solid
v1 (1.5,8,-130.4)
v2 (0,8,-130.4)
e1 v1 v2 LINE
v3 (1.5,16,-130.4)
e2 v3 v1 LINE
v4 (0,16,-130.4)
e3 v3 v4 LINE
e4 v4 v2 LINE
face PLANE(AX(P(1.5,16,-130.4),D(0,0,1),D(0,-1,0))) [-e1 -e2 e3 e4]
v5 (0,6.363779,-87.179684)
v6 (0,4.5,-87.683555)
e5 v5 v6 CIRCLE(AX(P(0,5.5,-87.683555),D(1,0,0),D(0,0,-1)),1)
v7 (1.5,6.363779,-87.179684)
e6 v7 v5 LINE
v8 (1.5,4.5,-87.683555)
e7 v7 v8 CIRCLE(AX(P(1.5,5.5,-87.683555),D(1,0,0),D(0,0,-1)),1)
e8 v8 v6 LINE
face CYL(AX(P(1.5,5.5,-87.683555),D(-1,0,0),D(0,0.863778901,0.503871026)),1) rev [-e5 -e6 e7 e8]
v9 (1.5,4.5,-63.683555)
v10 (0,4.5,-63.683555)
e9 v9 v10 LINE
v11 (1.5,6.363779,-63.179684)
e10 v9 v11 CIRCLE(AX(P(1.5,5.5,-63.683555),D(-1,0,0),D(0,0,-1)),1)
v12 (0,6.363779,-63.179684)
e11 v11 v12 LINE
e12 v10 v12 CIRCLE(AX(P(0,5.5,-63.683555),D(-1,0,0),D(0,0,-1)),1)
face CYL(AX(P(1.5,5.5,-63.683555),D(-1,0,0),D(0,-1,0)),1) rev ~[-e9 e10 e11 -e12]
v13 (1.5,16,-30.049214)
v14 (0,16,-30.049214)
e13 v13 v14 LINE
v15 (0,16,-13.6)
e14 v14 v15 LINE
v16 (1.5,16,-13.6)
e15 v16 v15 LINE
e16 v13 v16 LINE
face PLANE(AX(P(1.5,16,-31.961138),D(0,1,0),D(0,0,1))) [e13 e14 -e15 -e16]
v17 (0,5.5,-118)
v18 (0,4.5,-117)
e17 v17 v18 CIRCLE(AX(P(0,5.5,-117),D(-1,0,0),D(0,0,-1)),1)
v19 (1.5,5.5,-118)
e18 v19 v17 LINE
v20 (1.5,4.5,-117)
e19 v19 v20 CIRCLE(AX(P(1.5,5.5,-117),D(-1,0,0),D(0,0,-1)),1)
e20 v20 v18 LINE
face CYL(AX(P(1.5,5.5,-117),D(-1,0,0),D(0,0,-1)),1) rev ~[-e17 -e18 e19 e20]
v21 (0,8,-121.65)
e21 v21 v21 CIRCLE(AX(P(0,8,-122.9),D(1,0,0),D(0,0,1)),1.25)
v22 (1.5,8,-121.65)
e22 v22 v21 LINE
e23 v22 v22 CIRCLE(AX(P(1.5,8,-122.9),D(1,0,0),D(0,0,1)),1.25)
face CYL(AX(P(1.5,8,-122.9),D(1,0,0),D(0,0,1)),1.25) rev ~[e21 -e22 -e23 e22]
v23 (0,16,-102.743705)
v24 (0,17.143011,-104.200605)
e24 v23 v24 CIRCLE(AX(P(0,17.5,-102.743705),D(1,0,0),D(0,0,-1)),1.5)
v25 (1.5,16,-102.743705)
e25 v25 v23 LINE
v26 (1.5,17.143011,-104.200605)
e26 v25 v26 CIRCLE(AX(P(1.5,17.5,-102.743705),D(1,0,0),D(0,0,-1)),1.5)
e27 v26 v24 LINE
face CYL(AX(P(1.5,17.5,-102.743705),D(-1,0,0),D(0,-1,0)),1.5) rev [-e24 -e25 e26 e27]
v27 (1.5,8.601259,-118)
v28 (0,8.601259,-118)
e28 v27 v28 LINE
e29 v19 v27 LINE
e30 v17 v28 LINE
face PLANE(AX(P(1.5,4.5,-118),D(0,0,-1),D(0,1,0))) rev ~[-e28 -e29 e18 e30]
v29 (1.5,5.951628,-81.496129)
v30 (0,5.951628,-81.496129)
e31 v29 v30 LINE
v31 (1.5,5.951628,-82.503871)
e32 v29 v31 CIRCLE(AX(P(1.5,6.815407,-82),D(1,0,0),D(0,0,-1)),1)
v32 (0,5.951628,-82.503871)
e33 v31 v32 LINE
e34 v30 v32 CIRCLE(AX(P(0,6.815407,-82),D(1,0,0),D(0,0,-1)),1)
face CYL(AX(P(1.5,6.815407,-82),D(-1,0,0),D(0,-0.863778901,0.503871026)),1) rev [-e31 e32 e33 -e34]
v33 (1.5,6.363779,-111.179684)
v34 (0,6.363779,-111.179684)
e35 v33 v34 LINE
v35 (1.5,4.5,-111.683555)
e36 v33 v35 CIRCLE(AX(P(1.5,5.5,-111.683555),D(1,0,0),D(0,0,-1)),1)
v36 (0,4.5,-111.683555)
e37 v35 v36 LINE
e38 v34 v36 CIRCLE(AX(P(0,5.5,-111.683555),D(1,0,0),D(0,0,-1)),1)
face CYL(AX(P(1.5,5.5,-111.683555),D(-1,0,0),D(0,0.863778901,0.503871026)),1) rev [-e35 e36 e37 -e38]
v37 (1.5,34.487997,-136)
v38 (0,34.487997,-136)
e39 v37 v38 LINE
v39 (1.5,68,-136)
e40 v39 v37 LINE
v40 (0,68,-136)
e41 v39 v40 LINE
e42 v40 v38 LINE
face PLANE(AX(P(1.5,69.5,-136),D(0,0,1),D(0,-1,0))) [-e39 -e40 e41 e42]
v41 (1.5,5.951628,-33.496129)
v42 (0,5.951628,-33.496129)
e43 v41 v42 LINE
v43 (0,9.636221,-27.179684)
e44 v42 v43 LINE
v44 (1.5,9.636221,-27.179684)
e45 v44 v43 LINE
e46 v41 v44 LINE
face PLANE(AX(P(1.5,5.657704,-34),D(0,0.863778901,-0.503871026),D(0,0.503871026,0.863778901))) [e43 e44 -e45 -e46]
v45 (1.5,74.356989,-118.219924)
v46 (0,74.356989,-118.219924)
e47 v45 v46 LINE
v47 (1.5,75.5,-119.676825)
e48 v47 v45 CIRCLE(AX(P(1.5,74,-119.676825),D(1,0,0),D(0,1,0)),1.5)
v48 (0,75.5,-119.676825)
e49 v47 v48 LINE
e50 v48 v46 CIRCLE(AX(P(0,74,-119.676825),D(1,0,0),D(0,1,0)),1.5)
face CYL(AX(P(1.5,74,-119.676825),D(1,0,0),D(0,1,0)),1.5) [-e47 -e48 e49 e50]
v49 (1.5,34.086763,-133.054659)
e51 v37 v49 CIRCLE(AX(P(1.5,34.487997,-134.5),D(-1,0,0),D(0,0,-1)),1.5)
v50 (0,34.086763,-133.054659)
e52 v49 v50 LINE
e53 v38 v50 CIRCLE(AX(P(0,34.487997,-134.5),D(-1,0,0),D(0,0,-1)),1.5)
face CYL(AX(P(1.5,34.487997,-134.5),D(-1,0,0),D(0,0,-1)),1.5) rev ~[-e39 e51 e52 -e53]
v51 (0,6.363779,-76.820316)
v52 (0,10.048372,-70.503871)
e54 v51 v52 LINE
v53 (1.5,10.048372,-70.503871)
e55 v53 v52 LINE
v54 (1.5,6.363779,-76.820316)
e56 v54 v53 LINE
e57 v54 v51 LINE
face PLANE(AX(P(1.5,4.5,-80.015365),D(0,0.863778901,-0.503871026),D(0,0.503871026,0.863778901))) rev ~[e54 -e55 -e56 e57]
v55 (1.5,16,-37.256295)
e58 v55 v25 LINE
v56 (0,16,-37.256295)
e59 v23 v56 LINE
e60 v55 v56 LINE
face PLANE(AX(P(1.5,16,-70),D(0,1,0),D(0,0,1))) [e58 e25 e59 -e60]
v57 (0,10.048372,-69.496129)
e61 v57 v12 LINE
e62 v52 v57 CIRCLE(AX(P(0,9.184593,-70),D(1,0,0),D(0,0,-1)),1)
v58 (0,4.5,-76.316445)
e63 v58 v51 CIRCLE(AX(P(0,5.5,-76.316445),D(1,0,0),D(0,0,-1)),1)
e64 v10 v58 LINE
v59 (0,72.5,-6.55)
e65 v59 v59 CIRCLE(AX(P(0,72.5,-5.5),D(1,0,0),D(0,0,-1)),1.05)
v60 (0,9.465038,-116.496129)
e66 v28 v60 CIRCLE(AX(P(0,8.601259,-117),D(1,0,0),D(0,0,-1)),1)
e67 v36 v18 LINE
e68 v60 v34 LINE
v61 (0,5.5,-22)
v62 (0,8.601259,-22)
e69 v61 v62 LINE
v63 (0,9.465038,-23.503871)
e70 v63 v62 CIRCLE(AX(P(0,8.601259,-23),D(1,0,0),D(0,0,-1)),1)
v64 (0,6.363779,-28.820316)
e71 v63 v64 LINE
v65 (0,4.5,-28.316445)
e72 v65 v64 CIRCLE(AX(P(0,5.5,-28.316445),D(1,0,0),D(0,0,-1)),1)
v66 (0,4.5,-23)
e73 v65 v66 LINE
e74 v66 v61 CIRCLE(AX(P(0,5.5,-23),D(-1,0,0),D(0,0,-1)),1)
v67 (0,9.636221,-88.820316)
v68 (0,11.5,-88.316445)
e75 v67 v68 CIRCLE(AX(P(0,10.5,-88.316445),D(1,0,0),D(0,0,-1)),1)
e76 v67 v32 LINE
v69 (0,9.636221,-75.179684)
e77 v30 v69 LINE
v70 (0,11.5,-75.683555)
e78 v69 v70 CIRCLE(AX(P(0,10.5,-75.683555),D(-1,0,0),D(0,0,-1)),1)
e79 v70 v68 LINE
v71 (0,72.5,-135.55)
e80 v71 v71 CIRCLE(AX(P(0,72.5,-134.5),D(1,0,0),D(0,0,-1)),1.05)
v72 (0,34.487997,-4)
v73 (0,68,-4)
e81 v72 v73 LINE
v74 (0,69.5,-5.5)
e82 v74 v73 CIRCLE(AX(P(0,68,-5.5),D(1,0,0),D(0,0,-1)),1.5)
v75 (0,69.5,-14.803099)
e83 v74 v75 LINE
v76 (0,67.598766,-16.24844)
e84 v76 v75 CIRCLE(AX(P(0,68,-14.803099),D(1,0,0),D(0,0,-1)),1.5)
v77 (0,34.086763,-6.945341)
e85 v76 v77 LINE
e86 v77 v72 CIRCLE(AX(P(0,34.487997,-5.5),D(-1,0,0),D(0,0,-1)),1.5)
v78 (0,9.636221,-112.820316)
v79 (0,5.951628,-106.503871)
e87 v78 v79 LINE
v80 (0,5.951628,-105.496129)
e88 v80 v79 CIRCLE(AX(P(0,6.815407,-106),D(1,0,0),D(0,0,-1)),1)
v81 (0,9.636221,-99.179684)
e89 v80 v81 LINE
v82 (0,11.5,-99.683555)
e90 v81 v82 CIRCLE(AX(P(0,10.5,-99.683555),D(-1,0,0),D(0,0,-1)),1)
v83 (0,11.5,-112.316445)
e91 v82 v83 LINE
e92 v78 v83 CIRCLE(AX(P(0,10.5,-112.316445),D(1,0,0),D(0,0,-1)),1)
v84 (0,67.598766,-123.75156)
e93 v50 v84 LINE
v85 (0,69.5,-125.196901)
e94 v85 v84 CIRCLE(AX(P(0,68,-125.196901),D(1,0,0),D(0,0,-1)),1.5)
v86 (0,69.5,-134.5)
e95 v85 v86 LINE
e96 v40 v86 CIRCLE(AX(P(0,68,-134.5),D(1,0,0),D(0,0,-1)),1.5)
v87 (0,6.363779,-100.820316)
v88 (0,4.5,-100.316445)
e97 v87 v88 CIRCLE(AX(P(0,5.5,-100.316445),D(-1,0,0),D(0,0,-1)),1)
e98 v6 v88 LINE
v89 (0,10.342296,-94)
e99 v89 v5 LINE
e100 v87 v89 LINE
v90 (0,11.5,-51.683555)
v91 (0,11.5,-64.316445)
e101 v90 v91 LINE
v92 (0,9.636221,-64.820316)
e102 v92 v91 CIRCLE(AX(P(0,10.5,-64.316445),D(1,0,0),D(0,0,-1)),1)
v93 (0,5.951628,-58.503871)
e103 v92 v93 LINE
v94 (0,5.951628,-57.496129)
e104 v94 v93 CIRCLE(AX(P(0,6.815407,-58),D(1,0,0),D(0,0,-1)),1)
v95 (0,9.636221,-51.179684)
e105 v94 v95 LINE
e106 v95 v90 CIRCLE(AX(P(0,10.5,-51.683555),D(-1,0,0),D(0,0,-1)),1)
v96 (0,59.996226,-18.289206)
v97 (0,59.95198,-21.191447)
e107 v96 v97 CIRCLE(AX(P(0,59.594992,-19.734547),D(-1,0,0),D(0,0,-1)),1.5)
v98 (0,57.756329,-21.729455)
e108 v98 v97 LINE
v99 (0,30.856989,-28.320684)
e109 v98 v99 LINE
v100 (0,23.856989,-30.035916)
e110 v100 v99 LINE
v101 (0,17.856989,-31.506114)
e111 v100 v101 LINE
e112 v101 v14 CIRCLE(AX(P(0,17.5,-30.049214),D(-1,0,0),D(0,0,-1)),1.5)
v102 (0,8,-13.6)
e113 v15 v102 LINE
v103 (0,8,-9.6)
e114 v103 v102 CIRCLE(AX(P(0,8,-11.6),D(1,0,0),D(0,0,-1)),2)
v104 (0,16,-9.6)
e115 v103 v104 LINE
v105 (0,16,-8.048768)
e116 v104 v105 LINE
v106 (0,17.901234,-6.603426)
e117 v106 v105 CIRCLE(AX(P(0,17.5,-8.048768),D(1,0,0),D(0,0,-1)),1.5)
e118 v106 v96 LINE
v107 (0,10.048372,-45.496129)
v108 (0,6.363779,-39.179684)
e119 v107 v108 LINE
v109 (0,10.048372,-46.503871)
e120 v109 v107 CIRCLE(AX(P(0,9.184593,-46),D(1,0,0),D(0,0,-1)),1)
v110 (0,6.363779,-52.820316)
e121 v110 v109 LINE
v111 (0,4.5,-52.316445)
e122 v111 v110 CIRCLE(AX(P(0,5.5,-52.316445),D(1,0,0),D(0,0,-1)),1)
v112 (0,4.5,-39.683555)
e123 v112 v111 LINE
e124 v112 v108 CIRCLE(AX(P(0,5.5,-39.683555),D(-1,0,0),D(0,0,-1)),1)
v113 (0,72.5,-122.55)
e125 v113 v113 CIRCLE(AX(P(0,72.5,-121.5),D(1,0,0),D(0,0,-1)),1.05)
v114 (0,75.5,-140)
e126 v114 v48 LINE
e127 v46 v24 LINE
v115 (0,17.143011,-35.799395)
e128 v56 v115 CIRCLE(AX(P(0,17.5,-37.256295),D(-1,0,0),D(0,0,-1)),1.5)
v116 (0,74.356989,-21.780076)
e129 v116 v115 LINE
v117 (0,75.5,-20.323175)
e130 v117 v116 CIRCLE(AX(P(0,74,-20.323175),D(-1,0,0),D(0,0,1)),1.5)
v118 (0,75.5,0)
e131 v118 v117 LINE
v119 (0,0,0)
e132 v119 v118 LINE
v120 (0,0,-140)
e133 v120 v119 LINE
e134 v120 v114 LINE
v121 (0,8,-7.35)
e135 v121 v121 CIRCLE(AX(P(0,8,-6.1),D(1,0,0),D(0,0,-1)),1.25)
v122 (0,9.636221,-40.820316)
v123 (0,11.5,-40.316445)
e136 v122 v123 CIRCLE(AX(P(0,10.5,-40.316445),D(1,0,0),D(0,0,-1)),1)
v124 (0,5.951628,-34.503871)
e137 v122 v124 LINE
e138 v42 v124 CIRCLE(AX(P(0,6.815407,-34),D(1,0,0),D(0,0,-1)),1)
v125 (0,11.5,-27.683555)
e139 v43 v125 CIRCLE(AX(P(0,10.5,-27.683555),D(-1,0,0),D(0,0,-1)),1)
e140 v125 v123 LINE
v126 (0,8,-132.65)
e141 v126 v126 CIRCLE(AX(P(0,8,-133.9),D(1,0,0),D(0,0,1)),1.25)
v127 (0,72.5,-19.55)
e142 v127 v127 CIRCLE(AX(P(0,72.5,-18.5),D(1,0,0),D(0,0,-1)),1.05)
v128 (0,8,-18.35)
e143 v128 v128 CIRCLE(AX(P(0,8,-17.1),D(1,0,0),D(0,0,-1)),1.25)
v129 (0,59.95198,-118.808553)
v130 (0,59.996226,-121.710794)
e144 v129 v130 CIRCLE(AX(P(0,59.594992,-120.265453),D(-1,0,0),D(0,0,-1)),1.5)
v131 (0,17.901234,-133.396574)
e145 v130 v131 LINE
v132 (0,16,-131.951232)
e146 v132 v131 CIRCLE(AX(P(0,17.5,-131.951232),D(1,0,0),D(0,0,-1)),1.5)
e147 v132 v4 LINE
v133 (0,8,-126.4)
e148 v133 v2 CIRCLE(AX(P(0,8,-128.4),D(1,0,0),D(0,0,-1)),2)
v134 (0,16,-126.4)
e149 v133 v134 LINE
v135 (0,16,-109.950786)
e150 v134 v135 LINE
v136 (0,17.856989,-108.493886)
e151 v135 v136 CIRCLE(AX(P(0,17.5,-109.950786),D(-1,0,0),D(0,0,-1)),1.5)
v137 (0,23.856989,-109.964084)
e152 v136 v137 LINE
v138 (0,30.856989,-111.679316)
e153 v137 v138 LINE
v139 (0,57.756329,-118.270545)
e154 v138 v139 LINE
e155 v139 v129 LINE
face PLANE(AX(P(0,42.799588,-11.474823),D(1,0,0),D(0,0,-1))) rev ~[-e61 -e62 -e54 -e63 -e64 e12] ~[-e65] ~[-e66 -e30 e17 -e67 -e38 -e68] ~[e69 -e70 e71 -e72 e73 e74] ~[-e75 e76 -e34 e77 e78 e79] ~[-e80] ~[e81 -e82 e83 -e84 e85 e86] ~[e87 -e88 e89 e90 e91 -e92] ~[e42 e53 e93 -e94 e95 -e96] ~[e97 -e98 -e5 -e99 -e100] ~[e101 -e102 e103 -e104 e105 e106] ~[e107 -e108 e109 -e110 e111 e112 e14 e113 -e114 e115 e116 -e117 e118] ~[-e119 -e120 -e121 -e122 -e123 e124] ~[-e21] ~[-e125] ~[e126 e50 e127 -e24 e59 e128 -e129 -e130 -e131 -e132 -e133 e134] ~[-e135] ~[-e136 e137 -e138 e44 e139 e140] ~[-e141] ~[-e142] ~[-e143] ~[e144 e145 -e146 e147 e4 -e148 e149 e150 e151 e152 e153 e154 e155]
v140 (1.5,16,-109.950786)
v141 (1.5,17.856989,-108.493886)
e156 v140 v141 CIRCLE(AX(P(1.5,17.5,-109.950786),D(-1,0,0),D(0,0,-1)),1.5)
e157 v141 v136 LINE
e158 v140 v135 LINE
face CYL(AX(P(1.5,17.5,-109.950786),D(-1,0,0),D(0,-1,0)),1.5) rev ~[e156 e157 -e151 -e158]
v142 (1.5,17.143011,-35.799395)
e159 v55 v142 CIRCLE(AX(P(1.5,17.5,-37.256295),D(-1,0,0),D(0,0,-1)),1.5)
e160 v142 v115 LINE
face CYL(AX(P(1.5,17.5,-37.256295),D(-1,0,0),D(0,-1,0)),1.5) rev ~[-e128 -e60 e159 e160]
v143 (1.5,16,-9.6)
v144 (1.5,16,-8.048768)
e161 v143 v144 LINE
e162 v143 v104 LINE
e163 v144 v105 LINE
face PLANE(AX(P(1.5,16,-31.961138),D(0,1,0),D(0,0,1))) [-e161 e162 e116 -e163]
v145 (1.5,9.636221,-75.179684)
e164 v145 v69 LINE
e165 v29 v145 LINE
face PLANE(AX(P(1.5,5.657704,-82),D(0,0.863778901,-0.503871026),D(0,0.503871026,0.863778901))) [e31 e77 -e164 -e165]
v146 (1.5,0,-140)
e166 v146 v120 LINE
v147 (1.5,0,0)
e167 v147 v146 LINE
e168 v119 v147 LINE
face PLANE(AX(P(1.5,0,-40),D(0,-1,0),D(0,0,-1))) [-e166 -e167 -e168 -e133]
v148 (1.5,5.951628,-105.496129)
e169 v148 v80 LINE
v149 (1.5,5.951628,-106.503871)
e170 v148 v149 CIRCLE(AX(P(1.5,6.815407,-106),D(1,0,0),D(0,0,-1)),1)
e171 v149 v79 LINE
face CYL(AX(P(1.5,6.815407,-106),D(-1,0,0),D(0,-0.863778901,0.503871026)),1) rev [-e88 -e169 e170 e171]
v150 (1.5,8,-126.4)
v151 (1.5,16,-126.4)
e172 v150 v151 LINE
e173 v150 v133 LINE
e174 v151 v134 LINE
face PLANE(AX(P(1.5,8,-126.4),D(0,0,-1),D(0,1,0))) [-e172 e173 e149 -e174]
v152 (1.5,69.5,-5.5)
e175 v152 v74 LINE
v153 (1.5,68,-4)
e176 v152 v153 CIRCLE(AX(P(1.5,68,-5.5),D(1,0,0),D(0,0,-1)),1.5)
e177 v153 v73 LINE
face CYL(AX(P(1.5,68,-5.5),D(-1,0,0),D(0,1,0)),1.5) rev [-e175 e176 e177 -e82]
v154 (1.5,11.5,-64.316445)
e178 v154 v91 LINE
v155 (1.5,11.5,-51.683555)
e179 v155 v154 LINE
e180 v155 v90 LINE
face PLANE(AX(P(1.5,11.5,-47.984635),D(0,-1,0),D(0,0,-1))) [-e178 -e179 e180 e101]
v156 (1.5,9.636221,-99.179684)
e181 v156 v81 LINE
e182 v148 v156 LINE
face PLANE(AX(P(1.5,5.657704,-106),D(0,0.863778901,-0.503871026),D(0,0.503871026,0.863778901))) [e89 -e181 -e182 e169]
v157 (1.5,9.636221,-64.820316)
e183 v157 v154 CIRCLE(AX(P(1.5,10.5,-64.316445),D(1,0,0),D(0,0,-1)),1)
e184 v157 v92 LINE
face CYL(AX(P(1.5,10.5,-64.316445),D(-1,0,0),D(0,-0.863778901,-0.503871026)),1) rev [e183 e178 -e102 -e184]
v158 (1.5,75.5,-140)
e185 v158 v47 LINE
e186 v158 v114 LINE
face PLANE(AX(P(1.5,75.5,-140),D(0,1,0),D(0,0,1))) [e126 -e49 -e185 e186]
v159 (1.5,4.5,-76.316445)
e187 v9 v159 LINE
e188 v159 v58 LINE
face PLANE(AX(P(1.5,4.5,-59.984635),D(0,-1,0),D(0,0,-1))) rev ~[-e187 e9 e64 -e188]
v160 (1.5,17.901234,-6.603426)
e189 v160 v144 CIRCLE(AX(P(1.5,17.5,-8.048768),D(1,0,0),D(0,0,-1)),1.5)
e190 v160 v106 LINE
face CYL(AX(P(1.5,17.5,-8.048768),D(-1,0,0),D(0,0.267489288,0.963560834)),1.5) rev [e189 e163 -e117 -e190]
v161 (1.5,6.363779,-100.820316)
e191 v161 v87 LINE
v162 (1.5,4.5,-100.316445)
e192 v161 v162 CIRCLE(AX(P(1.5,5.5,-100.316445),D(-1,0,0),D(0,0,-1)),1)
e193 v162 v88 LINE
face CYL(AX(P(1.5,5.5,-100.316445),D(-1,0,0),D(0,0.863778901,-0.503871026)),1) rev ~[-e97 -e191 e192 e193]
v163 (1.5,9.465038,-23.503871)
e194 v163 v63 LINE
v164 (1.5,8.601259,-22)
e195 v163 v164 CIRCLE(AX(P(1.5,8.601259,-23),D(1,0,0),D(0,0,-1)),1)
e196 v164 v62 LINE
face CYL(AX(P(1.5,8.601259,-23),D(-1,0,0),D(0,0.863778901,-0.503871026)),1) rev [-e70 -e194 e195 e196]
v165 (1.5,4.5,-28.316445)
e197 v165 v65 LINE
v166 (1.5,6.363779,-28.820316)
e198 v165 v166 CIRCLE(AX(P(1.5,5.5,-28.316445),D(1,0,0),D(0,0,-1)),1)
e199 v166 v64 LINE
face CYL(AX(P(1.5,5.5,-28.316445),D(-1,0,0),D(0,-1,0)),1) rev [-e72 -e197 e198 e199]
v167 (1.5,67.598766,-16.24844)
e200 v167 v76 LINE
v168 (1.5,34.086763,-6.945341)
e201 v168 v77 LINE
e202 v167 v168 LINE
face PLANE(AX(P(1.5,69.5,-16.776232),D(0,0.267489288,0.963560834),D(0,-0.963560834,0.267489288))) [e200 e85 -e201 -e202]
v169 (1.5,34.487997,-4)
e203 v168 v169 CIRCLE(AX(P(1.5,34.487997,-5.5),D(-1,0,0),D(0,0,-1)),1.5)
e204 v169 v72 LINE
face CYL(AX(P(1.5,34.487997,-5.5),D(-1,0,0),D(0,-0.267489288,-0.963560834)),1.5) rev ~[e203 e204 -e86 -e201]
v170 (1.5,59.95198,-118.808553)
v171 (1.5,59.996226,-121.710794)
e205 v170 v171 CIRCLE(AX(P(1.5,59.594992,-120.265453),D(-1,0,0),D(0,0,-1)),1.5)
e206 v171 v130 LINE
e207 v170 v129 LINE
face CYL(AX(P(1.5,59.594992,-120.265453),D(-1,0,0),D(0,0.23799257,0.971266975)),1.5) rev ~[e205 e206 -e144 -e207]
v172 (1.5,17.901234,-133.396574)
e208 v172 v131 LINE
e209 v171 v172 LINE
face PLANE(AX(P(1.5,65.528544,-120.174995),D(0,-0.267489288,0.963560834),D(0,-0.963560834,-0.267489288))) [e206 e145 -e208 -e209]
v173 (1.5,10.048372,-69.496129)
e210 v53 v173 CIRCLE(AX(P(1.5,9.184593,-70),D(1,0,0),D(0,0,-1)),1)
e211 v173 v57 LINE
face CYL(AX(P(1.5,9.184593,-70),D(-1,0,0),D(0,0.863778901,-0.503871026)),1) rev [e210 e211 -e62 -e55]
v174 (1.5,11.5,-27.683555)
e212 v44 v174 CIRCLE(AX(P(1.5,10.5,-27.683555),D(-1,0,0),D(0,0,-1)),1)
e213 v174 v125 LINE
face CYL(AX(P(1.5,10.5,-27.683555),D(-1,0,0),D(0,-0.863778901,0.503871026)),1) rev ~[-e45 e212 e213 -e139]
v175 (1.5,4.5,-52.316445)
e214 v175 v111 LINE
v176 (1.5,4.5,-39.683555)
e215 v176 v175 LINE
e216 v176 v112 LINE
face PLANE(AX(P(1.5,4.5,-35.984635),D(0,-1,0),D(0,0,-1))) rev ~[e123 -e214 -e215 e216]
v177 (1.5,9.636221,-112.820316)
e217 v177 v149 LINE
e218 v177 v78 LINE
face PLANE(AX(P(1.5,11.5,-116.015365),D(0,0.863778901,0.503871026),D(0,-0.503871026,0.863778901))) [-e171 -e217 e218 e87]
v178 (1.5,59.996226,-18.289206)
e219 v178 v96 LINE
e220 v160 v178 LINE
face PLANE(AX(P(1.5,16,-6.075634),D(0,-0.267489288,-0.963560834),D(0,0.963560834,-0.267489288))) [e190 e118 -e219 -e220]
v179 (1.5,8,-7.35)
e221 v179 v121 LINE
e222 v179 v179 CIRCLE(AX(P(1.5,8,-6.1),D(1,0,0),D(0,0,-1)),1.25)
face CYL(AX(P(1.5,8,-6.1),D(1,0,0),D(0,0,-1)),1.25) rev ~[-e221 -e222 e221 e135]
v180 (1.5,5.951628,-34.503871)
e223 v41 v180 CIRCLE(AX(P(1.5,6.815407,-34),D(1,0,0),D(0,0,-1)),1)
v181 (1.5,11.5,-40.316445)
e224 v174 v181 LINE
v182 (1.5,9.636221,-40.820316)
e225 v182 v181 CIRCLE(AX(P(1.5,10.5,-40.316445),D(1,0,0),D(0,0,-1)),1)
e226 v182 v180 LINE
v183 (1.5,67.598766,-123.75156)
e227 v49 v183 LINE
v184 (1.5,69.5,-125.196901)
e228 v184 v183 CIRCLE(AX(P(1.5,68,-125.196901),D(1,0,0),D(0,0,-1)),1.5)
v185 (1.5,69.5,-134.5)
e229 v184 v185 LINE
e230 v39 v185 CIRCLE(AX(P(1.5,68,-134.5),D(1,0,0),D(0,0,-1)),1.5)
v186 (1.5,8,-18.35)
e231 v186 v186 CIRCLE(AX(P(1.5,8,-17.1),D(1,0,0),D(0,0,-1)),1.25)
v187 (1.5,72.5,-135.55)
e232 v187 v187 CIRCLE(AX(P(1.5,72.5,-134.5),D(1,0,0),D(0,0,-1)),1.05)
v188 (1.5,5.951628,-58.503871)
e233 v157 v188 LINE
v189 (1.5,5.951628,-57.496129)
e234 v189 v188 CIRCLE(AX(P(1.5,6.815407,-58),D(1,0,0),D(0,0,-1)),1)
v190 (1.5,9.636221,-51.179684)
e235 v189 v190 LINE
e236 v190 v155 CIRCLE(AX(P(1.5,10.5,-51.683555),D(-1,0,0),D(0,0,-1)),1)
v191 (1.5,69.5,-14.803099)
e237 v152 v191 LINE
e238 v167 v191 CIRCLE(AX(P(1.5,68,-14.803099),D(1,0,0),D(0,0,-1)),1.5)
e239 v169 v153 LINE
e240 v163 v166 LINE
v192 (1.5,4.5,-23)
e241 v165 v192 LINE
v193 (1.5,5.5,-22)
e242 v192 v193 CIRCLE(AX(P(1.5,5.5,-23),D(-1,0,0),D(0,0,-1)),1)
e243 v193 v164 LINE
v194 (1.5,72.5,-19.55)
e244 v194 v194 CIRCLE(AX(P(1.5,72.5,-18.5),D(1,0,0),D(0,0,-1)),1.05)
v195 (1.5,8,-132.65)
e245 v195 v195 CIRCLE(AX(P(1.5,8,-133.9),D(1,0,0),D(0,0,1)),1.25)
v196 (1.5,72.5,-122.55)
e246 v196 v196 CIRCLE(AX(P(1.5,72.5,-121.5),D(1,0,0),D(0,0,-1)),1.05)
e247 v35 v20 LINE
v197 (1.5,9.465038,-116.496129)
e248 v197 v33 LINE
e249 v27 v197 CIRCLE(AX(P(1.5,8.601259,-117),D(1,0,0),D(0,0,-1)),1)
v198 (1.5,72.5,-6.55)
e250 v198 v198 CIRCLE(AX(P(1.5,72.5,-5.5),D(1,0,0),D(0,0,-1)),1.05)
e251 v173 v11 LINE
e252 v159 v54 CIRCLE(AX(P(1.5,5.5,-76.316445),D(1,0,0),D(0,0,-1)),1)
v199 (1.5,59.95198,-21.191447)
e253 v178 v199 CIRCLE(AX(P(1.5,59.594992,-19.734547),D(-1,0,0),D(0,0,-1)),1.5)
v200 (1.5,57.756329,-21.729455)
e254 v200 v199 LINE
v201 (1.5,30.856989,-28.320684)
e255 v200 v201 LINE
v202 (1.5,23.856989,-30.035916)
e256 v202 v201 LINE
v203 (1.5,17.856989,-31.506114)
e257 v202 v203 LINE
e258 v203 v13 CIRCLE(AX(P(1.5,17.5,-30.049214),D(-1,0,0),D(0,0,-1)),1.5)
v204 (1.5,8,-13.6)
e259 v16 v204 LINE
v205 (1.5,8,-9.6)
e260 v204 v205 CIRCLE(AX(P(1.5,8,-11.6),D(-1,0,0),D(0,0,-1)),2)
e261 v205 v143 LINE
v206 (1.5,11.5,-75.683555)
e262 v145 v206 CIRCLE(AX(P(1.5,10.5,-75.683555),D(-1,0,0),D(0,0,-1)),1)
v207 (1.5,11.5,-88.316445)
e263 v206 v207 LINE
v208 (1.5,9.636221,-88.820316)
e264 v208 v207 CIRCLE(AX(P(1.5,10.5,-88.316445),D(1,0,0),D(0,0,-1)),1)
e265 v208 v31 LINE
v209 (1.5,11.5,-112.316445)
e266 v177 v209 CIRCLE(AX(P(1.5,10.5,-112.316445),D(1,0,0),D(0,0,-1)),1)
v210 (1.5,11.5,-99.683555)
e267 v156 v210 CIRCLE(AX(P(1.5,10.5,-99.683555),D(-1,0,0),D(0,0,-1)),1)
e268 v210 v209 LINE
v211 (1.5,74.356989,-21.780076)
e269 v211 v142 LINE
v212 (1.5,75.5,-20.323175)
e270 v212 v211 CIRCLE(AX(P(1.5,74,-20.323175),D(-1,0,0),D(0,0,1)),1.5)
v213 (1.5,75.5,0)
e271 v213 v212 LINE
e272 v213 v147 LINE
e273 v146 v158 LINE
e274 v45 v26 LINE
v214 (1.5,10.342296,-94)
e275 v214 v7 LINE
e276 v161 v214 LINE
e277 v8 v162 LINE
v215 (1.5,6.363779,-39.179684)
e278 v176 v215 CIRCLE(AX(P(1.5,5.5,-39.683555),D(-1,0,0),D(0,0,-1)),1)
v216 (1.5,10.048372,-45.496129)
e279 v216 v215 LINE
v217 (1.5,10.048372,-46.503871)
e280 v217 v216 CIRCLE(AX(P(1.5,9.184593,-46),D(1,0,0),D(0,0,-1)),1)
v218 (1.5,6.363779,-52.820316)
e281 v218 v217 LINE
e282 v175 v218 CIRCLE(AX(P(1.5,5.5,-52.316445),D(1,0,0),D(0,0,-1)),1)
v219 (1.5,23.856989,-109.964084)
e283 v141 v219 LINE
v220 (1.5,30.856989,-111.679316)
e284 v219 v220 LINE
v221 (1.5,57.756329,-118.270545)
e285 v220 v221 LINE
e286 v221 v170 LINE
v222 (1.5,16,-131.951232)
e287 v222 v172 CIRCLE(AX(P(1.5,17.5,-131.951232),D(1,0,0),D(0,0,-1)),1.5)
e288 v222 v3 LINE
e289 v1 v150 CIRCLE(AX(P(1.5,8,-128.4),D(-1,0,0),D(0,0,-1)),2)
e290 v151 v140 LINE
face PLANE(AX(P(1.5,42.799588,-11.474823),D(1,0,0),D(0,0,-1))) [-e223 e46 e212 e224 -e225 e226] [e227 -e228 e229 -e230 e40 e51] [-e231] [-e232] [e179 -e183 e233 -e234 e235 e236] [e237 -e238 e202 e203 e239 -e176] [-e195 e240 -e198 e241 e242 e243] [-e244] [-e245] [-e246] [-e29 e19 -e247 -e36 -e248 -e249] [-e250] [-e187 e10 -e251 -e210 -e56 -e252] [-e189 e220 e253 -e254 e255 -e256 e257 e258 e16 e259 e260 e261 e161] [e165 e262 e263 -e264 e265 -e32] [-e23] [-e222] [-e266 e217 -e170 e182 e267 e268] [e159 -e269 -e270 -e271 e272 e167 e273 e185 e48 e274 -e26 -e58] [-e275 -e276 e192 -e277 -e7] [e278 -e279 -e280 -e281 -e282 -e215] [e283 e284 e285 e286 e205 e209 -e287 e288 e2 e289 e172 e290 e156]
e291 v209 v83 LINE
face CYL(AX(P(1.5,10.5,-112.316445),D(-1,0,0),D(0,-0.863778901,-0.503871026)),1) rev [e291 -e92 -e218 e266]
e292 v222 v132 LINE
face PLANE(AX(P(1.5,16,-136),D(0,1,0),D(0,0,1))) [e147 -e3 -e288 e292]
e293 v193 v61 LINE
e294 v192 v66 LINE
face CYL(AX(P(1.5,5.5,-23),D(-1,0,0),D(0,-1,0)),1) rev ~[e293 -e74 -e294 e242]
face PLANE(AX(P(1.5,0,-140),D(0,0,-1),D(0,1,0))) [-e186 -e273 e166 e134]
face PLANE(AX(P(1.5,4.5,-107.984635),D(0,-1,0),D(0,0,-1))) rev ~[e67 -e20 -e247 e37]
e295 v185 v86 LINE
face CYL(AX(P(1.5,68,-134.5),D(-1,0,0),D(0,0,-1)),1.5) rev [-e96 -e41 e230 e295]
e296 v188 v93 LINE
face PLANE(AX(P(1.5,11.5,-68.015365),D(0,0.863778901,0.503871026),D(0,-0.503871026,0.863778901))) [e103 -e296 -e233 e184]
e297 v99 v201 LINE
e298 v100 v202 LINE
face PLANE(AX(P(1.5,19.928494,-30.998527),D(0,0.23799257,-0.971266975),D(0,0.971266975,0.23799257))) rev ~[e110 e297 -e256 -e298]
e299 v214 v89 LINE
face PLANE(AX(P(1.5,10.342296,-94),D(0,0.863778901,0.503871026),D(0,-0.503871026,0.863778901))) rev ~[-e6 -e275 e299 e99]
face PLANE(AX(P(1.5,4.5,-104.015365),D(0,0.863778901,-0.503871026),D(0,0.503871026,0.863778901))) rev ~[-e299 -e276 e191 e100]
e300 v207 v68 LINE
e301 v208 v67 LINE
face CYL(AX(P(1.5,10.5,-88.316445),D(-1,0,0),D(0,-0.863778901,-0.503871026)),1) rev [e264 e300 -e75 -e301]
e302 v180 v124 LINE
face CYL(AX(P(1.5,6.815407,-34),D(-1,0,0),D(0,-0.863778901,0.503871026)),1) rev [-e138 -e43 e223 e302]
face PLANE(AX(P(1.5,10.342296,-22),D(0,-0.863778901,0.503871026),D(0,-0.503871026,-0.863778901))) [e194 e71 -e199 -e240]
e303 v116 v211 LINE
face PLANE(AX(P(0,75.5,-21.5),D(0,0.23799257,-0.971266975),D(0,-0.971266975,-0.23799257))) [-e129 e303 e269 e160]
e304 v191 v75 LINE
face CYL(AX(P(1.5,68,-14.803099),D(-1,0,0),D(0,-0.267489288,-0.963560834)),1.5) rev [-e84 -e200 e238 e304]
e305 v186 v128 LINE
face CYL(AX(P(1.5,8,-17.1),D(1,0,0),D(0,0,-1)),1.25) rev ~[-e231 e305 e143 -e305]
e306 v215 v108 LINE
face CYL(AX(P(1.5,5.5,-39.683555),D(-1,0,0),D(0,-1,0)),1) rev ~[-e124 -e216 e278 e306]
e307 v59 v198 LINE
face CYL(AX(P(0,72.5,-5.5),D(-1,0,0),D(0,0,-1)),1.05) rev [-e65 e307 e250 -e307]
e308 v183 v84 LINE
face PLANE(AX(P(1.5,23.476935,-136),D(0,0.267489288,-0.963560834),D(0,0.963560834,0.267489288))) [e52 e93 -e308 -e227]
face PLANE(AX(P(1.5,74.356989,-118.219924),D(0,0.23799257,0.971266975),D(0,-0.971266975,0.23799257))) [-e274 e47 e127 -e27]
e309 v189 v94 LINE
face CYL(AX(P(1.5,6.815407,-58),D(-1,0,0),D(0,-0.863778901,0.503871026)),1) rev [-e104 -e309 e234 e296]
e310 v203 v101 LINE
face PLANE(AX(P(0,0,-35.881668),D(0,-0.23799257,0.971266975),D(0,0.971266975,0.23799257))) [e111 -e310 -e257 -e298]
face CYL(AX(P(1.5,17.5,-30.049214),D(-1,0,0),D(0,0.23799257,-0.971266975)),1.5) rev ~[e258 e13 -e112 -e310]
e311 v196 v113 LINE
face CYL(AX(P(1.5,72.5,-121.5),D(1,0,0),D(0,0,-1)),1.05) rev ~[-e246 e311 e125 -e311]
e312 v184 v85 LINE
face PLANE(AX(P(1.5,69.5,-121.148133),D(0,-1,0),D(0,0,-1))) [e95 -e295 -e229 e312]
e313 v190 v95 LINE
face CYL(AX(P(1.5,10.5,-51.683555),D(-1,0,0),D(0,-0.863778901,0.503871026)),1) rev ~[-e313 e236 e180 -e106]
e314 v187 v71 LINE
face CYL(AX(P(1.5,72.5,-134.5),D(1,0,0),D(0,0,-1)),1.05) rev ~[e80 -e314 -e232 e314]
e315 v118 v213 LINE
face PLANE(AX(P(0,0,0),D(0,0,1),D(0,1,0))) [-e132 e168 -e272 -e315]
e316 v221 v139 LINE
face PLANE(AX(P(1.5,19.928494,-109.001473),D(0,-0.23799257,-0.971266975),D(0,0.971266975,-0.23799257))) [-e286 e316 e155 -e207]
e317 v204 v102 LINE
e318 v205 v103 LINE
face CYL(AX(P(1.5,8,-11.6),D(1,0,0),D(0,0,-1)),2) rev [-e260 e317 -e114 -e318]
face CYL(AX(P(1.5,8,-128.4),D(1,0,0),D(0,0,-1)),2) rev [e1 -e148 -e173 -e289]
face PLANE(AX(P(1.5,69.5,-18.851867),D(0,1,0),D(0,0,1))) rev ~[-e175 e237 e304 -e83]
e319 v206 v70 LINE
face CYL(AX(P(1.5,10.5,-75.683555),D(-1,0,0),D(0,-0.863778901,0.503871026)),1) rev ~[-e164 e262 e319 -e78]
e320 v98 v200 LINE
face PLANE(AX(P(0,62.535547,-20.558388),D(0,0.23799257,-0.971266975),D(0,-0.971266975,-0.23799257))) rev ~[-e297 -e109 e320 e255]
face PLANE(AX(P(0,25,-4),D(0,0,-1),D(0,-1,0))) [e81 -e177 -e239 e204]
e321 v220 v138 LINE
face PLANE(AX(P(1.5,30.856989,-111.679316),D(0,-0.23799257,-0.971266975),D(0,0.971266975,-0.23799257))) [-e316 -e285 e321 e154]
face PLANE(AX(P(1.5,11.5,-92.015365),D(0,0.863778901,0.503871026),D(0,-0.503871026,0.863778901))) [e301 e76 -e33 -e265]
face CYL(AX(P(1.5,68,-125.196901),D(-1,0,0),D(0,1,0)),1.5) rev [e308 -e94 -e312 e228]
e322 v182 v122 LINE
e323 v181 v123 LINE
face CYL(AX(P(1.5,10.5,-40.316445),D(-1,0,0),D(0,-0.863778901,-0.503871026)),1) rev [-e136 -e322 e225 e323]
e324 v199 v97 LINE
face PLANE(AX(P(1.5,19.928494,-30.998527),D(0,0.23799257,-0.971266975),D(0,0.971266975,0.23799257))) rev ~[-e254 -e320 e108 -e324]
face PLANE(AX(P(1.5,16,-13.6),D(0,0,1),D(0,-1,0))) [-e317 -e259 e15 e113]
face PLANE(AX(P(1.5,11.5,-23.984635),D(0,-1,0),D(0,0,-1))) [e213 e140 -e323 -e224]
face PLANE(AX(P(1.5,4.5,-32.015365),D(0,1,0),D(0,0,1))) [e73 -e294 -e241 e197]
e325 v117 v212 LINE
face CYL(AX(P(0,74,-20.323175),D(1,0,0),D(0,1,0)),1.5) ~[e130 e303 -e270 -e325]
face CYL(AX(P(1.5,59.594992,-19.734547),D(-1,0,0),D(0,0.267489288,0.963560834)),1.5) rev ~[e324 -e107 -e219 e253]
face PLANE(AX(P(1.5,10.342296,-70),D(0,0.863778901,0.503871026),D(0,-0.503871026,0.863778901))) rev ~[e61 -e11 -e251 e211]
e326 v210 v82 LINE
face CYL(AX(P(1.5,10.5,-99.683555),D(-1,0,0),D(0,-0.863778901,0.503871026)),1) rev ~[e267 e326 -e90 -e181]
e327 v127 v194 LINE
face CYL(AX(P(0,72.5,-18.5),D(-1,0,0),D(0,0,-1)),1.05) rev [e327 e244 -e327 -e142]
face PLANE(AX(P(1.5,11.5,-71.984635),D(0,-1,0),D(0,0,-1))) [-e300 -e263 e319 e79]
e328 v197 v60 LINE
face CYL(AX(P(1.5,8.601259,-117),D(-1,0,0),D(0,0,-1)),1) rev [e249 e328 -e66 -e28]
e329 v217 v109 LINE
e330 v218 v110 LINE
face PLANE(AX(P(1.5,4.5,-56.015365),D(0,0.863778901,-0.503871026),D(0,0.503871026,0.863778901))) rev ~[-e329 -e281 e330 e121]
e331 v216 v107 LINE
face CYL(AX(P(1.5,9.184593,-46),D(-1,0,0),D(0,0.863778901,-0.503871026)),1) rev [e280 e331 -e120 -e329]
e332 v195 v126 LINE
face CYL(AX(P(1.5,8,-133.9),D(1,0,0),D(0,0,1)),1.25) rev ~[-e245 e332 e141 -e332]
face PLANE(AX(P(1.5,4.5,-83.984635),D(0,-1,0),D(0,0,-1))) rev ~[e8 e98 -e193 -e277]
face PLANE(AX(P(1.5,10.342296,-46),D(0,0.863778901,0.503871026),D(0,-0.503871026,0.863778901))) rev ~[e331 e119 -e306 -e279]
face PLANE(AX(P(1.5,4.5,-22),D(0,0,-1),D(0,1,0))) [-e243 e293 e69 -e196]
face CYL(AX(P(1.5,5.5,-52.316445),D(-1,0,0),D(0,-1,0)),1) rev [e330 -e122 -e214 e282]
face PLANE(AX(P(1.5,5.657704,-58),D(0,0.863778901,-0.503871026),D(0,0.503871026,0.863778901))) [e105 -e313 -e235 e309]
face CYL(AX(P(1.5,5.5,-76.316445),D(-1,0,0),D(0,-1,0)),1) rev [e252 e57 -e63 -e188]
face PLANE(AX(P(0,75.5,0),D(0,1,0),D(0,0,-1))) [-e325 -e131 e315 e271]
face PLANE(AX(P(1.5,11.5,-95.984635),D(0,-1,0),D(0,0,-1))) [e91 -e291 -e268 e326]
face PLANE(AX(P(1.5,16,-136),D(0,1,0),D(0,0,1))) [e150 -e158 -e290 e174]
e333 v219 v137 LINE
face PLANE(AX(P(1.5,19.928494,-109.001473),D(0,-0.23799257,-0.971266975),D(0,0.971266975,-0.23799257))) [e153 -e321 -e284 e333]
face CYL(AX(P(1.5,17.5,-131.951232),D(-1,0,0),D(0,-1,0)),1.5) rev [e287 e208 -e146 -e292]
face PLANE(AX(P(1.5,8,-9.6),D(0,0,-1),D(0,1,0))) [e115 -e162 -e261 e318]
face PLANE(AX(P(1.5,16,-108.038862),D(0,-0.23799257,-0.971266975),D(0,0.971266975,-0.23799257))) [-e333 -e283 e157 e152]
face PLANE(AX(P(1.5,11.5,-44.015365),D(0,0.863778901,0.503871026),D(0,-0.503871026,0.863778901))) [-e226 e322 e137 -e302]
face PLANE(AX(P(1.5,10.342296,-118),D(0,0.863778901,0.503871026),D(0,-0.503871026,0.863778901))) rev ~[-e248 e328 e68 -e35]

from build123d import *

# Parameters (mm, degrees)
SKETCH1_R           = 1.05
BOSS_EXTRUDE1_DEPTH = 1.5
FILLET1_R           = 1.5
SKETCH2_R           = 1.05
SKETCH2_W           = 4
SKETCH2_H           = 16
BOSS_EXTRUDE2_DEPTH = 1.5
SKETCH4_R           = 1.25
CUT_EXTRUDE2_DEPTH  = 160.067595694
CUT_EXTRUDE4_DEPTH  = 160.067595694
FILLET3_R           = 1
CUT_EXTRUDE5_DEPTH  = 160.067595694
BOSS_EXTRUDE3_DEPTH = 1.5
FILLET4_R           = 1.5


with BuildPart() as part:
    # Sketch1 → Boss-Extrude1 (new body)
    with BuildSketch(Plane(origin=(0, 0, 0), x_dir=(0, 0, -1), z_dir=(1, 0, 0))):
        Polygon((0, 0), (0, 75.5), (21.5, 75.5), (40, 0), (35.881667859, 0), (29.755840045, 25), (4, 25), (4, 0), align=None)
        with Locations((5.5, 72.5)):
            Circle(SKETCH1_R, mode=Mode.SUBTRACT)
        with Locations((18.5, 72.5)):
            Circle(SKETCH1_R, mode=Mode.SUBTRACT)
        Polygon((4, 69.5), (18.851866535, 69.5), (4, 29), align=None, mode=Mode.SUBTRACT)
        Polygon((8.260475549, 29), (20.558388216, 62.535546651), (28.775707595, 29), align=None, mode=Mode.SUBTRACT)
    extrude(amount=BOSS_EXTRUDE1_DEPTH)

    # Fillet1
    fillet1_edges = [part.edges().sort_by_distance(p)[0] for p in [
        (0.75, 75.5, -21.5),
        (0.75, 25, -29.755840045),
        (0.75, 25, -4),
        (0.75, 69.5, -4),
        (0.75, 29, -4),
        (0.75, 69.5, -18.851866535),
        (0.75, 29, -8.260475549),
        (0.75, 29, -28.775707595),
        (0.75, 62.535546651, -20.558388216),
    ]]
    fillet(fillet1_edges, radius=FILLET1_R)

    # Sketch2 → Boss-Extrude2 (add)
    # profile 1 of 5: a face of its own
    with BuildSketch(Plane(origin=(1.5, 0, 0), x_dir=(0, 0, -1), z_dir=(1, 0, 0))):
        Polygon((70, 0), (70, 16), (36.079470199, 16), (40, 0), align=None)
    # profile 2 of 5: a face of its own
    with BuildSketch(Plane(origin=(1.5, 0, 0), x_dir=(0, 0, -1), z_dir=(1, 0, 0))):
        with BuildLine():
            Line((103.920529801, 16), (70, 16))
            Line((70, 16), (70, 0))
            Line((70, 0), (140, 0))
            Line((140, 0), (140, 16))
            Line((140, 16), (140, 75.5))
            Line((140, 75.5), (119.676824884, 75.5))
            ThreePointArc((119.676824884, 75.5), (118.750942408, 75.180144754), (118.219924421, 74.356988855))
            Line((118.219924421, 74.356988855), (103.920529801, 16))
        make_face()
        with BuildLine():
            Line((108.038861942, 16), (109.964084377, 23.856988855))
            ThreePointArc((109.964084377, 23.856988855), (110.495102363, 24.680144754), (111.420984839, 25))
            Line((111.420984839, 25), (134.5, 25))
            ThreePointArc((134.5, 25), (135.560660172, 24.560660172), (136, 23.5))
            Line((136, 23.5), (136, 16))
            Line((136, 16), (108.038861942, 16))
        make_face(mode=Mode.SUBTRACT)
        with BuildLine():
            ThreePointArc((131.000070484, 31.016439186), (130.821545012, 29.641122471), (129.591776989, 29))
            Line((129.591776989, 29), (113.136216627, 29))
            ThreePointArc((113.136216627, 29), (111.956071873, 29.574117524), (111.679316165, 30.856988855))
            Line((111.679316165, 30.856988855), (118.270545293, 57.756329353))
            ThreePointArc((118.270545293, 57.756329353), (119.644098522, 58.897023121), (121.135739251, 57.915779684))
            Line((121.135739251, 57.915779684), (131.000070484, 31.016439186))
        make_face(mode=Mode.SUBTRACT)
        with BuildLine():
            ThreePointArc((121.887587432, 67.483560814), (122.066112904, 68.858877529), (123.295880927, 69.5))
            Line((123.295880927, 69.5), (134.5, 69.5))
            ThreePointArc((134.5, 69.5), (135.560660172, 69.060660172), (136, 68))
            Line((136, 68), (136, 37.447151885))
            ThreePointArc((136, 37.447151885), (134.762259183, 35.970256452), (133.091706505, 36.930712699))
            Line((133.091706505, 36.930712699), (121.887587432, 67.483560814))
        make_face(mode=Mode.SUBTRACT)
        with Locations((121.5, 72.5)):
            Circle(SKETCH2_R, mode=Mode.SUBTRACT)
        with Locations((134.5, 72.5)):
            Circle(SKETCH2_R, mode=Mode.SUBTRACT)
    # profile 3 of 5: a face of its own
    with BuildSketch(Plane(origin=(1.5, 0, 0), x_dir=(0, 0, -1), z_dir=(1, 0, 0))):
        Polygon((35.881667859, 0), (31.961138058, 16), (4, 16), (4, 0), align=None)
    # profile 4 of 5: a face of its own
    with BuildSketch(Plane(origin=(1.5, 0, 0), x_dir=(0, 0, -1), z_dir=(1, 0, 0))):
        Polygon((40, 0), (36.079470199, 16), (31.961138058, 16), (35.881667859, 0), align=None)
    # profile 5 of 5: a face of its own
    with BuildSketch(Plane(origin=(1.5, 0, 0), x_dir=(0, 0, -1), z_dir=(1, 0, 0))):
        with Locations((2, 8)):
            Rectangle(SKETCH2_W, SKETCH2_H)
    extrude(amount=-BOSS_EXTRUDE2_DEPTH)

    # Sketch4 → Cut-Extrude2 (cut, through all)
    with BuildSketch(Plane(origin=(1.5, 0, 0), x_dir=(0, 0, -1), z_dir=(1, 0, 0))):
        with Locations((6.1, 8)):
            Circle(SKETCH4_R)
        with Locations((17.1, 8)):
            Circle(SKETCH4_R)
        with Locations(Location((122.9, 8, 0), (0, 0, 180))):
            Circle(SKETCH4_R)
        with Locations(Location((133.9, 8, 0), (0, 0, 180))):
            Circle(SKETCH4_R)
        with BuildLine():
            Line((130.4, 16), (130.4, 8))
            ThreePointArc((130.4, 8), (128.4, 6), (126.4, 8))
            Line((126.4, 8), (126.4, 16))
            Line((126.4, 16), (130.4, 16))
        make_face()
        with BuildLine():
            Line((13.6, 16), (13.6, 8))
            ThreePointArc((13.6, 8), (11.6, 6), (9.6, 8))
            Line((9.6, 8), (9.6, 16))
            Line((9.6, 16), (13.6, 16))
        make_face()
    extrude(amount=-CUT_EXTRUDE2_DEPTH, mode=Mode.SUBTRACT)

    # Sketch5 → Cut-Extrude4 (cut, through all)
    with BuildSketch(Plane(origin=(1.5, 0, 0), x_dir=(0, 0, -1), z_dir=(1, 0, 0))):
        Polygon((35.984634856, 4.5), (46, 4.5), (56.015365144, 4.5), (46, 10.342296334), align=None)
        Polygon((47.984634856, 11.5), (68.015365144, 11.5), (58, 5.657703666), align=None)
        Polygon((59.984634856, 4.5), (70, 4.5), (80.015365144, 4.5), (70, 10.342296334), align=None)
        Polygon((22, 4.5), (22, 10.342296334), (32.015365144, 4.5), align=None)
        Polygon((23.984634856, 11.5), (44.015365144, 11.5), (34, 5.657703666), align=None)
        Polygon((118, 4.5), (118, 10.342296334), (107.984634856, 4.5), align=None)
        Polygon((94, 4.5), (104.015365144, 4.5), (94, 10.342296334), (83.984634856, 4.5), align=None)
        Polygon((95.984634856, 11.5), (116.015365144, 11.5), (106, 5.657703666), align=None)
        Polygon((71.984634856, 11.5), (92.015365144, 11.5), (82, 5.657703666), align=None)
    extrude(amount=-CUT_EXTRUDE4_DEPTH, mode=Mode.SUBTRACT)

    # Fillet3
    fillet3_edges = [part.edges().sort_by_distance(p)[0] for p in [
        (0.75, 4.5, -83.984634856),
        (0.75, 4.5, -104.015365144),
        (0.75, 4.5, -80.015365144),
        (0.75, 4.5, -59.984634856),
        (0.75, 10.342296334, -70),
        (0.75, 4.5, -56.015365144),
        (0.75, 4.5, -35.984634856),
        (0.75, 10.342296334, -46),
        (0.75, 4.5, -118),
        (0.75, 4.5, -107.984634856),
        (0.75, 10.342296334, -118),
        (0.75, 11.5, -44.015365144),
        (0.75, 5.657703666, -34),
        (0.75, 11.5, -23.984634856),
        (0.75, 5.657703666, -58),
        (0.75, 11.5, -47.984634856),
        (0.75, 11.5, -68.015365144),
        (0.75, 11.5, -116.015365144),
        (0.75, 5.657703666, -106),
        (0.75, 11.5, -95.984634856),
        (0.75, 11.5, -92.015365144),
        (0.75, 5.657703666, -82),
        (0.75, 11.5, -71.984634856),
        (0.75, 4.5, -32.015365144),
        (0.75, 4.5, -22),
        (0.75, 10.342296334, -22),
    ]]
    fillet(fillet3_edges, radius=FILLET3_R)

    # Sketch6 → Cut-Extrude5 (cut, through all)
    with BuildSketch(Plane(origin=(1.5, 0, 0), x_dir=(0, 0, -1), z_dir=(1, 0, 0))):
        Polygon((4, 19.75), (30.998526841, 19.928494428), (18.851866535, 69.5), (4, 69.5), align=None)
        Polygon((136, 69.5), (136, 19.75), (109.001473159, 19.928494428), (121.148133465, 69.5), align=None)
    extrude(amount=-CUT_EXTRUDE5_DEPTH, mode=Mode.SUBTRACT)

    # Sketch7 → Boss-Extrude3 (add)
    with BuildSketch(Plane(origin=(1.5, 0, 0), x_dir=(0, 0, -1), z_dir=(1, 0, 0))):
        Polygon((18.851866535, 69.5), (16.776232149, 69.5), (4, 23.476934928), (4, 16), (6.075634386, 16), (19.825004849, 65.528543637), align=None)
        Polygon((136, 16), (136, 23.476934928), (123.223767851, 69.5), (121.148133465, 69.5), (120.174995151, 65.528543637), (133.924365614, 16), align=None)
    extrude(amount=-BOSS_EXTRUDE3_DEPTH)

    # Fillet4
    fillet4_edges = [part.edges().sort_by_distance(p)[0] for p in [
        (0.75, 16, -31.961138058),
        (0.75, 16, -36.079470199),
        (0.75, 16, -108.038861942),
        (0.75, 16, -103.920529801),
        (0.75, 69.5, -4),
        (0.75, 69.5, -136),
        (0.75, 69.5, -16.776232149),
        (0.75, 23.476934928, -4),
        (0.75, 16, -6.075634386),
        (0.75, 65.528543637, -19.825004849),
        (0.75, 23.476934928, -136),
        (0.75, 69.5, -123.223767851),
        (0.75, 65.528543637, -120.174995151),
        (0.75, 16, -133.924365614),
    ]]
    fillet(fillet4_edges, radius=FILLET4_R)


solid = part.part
